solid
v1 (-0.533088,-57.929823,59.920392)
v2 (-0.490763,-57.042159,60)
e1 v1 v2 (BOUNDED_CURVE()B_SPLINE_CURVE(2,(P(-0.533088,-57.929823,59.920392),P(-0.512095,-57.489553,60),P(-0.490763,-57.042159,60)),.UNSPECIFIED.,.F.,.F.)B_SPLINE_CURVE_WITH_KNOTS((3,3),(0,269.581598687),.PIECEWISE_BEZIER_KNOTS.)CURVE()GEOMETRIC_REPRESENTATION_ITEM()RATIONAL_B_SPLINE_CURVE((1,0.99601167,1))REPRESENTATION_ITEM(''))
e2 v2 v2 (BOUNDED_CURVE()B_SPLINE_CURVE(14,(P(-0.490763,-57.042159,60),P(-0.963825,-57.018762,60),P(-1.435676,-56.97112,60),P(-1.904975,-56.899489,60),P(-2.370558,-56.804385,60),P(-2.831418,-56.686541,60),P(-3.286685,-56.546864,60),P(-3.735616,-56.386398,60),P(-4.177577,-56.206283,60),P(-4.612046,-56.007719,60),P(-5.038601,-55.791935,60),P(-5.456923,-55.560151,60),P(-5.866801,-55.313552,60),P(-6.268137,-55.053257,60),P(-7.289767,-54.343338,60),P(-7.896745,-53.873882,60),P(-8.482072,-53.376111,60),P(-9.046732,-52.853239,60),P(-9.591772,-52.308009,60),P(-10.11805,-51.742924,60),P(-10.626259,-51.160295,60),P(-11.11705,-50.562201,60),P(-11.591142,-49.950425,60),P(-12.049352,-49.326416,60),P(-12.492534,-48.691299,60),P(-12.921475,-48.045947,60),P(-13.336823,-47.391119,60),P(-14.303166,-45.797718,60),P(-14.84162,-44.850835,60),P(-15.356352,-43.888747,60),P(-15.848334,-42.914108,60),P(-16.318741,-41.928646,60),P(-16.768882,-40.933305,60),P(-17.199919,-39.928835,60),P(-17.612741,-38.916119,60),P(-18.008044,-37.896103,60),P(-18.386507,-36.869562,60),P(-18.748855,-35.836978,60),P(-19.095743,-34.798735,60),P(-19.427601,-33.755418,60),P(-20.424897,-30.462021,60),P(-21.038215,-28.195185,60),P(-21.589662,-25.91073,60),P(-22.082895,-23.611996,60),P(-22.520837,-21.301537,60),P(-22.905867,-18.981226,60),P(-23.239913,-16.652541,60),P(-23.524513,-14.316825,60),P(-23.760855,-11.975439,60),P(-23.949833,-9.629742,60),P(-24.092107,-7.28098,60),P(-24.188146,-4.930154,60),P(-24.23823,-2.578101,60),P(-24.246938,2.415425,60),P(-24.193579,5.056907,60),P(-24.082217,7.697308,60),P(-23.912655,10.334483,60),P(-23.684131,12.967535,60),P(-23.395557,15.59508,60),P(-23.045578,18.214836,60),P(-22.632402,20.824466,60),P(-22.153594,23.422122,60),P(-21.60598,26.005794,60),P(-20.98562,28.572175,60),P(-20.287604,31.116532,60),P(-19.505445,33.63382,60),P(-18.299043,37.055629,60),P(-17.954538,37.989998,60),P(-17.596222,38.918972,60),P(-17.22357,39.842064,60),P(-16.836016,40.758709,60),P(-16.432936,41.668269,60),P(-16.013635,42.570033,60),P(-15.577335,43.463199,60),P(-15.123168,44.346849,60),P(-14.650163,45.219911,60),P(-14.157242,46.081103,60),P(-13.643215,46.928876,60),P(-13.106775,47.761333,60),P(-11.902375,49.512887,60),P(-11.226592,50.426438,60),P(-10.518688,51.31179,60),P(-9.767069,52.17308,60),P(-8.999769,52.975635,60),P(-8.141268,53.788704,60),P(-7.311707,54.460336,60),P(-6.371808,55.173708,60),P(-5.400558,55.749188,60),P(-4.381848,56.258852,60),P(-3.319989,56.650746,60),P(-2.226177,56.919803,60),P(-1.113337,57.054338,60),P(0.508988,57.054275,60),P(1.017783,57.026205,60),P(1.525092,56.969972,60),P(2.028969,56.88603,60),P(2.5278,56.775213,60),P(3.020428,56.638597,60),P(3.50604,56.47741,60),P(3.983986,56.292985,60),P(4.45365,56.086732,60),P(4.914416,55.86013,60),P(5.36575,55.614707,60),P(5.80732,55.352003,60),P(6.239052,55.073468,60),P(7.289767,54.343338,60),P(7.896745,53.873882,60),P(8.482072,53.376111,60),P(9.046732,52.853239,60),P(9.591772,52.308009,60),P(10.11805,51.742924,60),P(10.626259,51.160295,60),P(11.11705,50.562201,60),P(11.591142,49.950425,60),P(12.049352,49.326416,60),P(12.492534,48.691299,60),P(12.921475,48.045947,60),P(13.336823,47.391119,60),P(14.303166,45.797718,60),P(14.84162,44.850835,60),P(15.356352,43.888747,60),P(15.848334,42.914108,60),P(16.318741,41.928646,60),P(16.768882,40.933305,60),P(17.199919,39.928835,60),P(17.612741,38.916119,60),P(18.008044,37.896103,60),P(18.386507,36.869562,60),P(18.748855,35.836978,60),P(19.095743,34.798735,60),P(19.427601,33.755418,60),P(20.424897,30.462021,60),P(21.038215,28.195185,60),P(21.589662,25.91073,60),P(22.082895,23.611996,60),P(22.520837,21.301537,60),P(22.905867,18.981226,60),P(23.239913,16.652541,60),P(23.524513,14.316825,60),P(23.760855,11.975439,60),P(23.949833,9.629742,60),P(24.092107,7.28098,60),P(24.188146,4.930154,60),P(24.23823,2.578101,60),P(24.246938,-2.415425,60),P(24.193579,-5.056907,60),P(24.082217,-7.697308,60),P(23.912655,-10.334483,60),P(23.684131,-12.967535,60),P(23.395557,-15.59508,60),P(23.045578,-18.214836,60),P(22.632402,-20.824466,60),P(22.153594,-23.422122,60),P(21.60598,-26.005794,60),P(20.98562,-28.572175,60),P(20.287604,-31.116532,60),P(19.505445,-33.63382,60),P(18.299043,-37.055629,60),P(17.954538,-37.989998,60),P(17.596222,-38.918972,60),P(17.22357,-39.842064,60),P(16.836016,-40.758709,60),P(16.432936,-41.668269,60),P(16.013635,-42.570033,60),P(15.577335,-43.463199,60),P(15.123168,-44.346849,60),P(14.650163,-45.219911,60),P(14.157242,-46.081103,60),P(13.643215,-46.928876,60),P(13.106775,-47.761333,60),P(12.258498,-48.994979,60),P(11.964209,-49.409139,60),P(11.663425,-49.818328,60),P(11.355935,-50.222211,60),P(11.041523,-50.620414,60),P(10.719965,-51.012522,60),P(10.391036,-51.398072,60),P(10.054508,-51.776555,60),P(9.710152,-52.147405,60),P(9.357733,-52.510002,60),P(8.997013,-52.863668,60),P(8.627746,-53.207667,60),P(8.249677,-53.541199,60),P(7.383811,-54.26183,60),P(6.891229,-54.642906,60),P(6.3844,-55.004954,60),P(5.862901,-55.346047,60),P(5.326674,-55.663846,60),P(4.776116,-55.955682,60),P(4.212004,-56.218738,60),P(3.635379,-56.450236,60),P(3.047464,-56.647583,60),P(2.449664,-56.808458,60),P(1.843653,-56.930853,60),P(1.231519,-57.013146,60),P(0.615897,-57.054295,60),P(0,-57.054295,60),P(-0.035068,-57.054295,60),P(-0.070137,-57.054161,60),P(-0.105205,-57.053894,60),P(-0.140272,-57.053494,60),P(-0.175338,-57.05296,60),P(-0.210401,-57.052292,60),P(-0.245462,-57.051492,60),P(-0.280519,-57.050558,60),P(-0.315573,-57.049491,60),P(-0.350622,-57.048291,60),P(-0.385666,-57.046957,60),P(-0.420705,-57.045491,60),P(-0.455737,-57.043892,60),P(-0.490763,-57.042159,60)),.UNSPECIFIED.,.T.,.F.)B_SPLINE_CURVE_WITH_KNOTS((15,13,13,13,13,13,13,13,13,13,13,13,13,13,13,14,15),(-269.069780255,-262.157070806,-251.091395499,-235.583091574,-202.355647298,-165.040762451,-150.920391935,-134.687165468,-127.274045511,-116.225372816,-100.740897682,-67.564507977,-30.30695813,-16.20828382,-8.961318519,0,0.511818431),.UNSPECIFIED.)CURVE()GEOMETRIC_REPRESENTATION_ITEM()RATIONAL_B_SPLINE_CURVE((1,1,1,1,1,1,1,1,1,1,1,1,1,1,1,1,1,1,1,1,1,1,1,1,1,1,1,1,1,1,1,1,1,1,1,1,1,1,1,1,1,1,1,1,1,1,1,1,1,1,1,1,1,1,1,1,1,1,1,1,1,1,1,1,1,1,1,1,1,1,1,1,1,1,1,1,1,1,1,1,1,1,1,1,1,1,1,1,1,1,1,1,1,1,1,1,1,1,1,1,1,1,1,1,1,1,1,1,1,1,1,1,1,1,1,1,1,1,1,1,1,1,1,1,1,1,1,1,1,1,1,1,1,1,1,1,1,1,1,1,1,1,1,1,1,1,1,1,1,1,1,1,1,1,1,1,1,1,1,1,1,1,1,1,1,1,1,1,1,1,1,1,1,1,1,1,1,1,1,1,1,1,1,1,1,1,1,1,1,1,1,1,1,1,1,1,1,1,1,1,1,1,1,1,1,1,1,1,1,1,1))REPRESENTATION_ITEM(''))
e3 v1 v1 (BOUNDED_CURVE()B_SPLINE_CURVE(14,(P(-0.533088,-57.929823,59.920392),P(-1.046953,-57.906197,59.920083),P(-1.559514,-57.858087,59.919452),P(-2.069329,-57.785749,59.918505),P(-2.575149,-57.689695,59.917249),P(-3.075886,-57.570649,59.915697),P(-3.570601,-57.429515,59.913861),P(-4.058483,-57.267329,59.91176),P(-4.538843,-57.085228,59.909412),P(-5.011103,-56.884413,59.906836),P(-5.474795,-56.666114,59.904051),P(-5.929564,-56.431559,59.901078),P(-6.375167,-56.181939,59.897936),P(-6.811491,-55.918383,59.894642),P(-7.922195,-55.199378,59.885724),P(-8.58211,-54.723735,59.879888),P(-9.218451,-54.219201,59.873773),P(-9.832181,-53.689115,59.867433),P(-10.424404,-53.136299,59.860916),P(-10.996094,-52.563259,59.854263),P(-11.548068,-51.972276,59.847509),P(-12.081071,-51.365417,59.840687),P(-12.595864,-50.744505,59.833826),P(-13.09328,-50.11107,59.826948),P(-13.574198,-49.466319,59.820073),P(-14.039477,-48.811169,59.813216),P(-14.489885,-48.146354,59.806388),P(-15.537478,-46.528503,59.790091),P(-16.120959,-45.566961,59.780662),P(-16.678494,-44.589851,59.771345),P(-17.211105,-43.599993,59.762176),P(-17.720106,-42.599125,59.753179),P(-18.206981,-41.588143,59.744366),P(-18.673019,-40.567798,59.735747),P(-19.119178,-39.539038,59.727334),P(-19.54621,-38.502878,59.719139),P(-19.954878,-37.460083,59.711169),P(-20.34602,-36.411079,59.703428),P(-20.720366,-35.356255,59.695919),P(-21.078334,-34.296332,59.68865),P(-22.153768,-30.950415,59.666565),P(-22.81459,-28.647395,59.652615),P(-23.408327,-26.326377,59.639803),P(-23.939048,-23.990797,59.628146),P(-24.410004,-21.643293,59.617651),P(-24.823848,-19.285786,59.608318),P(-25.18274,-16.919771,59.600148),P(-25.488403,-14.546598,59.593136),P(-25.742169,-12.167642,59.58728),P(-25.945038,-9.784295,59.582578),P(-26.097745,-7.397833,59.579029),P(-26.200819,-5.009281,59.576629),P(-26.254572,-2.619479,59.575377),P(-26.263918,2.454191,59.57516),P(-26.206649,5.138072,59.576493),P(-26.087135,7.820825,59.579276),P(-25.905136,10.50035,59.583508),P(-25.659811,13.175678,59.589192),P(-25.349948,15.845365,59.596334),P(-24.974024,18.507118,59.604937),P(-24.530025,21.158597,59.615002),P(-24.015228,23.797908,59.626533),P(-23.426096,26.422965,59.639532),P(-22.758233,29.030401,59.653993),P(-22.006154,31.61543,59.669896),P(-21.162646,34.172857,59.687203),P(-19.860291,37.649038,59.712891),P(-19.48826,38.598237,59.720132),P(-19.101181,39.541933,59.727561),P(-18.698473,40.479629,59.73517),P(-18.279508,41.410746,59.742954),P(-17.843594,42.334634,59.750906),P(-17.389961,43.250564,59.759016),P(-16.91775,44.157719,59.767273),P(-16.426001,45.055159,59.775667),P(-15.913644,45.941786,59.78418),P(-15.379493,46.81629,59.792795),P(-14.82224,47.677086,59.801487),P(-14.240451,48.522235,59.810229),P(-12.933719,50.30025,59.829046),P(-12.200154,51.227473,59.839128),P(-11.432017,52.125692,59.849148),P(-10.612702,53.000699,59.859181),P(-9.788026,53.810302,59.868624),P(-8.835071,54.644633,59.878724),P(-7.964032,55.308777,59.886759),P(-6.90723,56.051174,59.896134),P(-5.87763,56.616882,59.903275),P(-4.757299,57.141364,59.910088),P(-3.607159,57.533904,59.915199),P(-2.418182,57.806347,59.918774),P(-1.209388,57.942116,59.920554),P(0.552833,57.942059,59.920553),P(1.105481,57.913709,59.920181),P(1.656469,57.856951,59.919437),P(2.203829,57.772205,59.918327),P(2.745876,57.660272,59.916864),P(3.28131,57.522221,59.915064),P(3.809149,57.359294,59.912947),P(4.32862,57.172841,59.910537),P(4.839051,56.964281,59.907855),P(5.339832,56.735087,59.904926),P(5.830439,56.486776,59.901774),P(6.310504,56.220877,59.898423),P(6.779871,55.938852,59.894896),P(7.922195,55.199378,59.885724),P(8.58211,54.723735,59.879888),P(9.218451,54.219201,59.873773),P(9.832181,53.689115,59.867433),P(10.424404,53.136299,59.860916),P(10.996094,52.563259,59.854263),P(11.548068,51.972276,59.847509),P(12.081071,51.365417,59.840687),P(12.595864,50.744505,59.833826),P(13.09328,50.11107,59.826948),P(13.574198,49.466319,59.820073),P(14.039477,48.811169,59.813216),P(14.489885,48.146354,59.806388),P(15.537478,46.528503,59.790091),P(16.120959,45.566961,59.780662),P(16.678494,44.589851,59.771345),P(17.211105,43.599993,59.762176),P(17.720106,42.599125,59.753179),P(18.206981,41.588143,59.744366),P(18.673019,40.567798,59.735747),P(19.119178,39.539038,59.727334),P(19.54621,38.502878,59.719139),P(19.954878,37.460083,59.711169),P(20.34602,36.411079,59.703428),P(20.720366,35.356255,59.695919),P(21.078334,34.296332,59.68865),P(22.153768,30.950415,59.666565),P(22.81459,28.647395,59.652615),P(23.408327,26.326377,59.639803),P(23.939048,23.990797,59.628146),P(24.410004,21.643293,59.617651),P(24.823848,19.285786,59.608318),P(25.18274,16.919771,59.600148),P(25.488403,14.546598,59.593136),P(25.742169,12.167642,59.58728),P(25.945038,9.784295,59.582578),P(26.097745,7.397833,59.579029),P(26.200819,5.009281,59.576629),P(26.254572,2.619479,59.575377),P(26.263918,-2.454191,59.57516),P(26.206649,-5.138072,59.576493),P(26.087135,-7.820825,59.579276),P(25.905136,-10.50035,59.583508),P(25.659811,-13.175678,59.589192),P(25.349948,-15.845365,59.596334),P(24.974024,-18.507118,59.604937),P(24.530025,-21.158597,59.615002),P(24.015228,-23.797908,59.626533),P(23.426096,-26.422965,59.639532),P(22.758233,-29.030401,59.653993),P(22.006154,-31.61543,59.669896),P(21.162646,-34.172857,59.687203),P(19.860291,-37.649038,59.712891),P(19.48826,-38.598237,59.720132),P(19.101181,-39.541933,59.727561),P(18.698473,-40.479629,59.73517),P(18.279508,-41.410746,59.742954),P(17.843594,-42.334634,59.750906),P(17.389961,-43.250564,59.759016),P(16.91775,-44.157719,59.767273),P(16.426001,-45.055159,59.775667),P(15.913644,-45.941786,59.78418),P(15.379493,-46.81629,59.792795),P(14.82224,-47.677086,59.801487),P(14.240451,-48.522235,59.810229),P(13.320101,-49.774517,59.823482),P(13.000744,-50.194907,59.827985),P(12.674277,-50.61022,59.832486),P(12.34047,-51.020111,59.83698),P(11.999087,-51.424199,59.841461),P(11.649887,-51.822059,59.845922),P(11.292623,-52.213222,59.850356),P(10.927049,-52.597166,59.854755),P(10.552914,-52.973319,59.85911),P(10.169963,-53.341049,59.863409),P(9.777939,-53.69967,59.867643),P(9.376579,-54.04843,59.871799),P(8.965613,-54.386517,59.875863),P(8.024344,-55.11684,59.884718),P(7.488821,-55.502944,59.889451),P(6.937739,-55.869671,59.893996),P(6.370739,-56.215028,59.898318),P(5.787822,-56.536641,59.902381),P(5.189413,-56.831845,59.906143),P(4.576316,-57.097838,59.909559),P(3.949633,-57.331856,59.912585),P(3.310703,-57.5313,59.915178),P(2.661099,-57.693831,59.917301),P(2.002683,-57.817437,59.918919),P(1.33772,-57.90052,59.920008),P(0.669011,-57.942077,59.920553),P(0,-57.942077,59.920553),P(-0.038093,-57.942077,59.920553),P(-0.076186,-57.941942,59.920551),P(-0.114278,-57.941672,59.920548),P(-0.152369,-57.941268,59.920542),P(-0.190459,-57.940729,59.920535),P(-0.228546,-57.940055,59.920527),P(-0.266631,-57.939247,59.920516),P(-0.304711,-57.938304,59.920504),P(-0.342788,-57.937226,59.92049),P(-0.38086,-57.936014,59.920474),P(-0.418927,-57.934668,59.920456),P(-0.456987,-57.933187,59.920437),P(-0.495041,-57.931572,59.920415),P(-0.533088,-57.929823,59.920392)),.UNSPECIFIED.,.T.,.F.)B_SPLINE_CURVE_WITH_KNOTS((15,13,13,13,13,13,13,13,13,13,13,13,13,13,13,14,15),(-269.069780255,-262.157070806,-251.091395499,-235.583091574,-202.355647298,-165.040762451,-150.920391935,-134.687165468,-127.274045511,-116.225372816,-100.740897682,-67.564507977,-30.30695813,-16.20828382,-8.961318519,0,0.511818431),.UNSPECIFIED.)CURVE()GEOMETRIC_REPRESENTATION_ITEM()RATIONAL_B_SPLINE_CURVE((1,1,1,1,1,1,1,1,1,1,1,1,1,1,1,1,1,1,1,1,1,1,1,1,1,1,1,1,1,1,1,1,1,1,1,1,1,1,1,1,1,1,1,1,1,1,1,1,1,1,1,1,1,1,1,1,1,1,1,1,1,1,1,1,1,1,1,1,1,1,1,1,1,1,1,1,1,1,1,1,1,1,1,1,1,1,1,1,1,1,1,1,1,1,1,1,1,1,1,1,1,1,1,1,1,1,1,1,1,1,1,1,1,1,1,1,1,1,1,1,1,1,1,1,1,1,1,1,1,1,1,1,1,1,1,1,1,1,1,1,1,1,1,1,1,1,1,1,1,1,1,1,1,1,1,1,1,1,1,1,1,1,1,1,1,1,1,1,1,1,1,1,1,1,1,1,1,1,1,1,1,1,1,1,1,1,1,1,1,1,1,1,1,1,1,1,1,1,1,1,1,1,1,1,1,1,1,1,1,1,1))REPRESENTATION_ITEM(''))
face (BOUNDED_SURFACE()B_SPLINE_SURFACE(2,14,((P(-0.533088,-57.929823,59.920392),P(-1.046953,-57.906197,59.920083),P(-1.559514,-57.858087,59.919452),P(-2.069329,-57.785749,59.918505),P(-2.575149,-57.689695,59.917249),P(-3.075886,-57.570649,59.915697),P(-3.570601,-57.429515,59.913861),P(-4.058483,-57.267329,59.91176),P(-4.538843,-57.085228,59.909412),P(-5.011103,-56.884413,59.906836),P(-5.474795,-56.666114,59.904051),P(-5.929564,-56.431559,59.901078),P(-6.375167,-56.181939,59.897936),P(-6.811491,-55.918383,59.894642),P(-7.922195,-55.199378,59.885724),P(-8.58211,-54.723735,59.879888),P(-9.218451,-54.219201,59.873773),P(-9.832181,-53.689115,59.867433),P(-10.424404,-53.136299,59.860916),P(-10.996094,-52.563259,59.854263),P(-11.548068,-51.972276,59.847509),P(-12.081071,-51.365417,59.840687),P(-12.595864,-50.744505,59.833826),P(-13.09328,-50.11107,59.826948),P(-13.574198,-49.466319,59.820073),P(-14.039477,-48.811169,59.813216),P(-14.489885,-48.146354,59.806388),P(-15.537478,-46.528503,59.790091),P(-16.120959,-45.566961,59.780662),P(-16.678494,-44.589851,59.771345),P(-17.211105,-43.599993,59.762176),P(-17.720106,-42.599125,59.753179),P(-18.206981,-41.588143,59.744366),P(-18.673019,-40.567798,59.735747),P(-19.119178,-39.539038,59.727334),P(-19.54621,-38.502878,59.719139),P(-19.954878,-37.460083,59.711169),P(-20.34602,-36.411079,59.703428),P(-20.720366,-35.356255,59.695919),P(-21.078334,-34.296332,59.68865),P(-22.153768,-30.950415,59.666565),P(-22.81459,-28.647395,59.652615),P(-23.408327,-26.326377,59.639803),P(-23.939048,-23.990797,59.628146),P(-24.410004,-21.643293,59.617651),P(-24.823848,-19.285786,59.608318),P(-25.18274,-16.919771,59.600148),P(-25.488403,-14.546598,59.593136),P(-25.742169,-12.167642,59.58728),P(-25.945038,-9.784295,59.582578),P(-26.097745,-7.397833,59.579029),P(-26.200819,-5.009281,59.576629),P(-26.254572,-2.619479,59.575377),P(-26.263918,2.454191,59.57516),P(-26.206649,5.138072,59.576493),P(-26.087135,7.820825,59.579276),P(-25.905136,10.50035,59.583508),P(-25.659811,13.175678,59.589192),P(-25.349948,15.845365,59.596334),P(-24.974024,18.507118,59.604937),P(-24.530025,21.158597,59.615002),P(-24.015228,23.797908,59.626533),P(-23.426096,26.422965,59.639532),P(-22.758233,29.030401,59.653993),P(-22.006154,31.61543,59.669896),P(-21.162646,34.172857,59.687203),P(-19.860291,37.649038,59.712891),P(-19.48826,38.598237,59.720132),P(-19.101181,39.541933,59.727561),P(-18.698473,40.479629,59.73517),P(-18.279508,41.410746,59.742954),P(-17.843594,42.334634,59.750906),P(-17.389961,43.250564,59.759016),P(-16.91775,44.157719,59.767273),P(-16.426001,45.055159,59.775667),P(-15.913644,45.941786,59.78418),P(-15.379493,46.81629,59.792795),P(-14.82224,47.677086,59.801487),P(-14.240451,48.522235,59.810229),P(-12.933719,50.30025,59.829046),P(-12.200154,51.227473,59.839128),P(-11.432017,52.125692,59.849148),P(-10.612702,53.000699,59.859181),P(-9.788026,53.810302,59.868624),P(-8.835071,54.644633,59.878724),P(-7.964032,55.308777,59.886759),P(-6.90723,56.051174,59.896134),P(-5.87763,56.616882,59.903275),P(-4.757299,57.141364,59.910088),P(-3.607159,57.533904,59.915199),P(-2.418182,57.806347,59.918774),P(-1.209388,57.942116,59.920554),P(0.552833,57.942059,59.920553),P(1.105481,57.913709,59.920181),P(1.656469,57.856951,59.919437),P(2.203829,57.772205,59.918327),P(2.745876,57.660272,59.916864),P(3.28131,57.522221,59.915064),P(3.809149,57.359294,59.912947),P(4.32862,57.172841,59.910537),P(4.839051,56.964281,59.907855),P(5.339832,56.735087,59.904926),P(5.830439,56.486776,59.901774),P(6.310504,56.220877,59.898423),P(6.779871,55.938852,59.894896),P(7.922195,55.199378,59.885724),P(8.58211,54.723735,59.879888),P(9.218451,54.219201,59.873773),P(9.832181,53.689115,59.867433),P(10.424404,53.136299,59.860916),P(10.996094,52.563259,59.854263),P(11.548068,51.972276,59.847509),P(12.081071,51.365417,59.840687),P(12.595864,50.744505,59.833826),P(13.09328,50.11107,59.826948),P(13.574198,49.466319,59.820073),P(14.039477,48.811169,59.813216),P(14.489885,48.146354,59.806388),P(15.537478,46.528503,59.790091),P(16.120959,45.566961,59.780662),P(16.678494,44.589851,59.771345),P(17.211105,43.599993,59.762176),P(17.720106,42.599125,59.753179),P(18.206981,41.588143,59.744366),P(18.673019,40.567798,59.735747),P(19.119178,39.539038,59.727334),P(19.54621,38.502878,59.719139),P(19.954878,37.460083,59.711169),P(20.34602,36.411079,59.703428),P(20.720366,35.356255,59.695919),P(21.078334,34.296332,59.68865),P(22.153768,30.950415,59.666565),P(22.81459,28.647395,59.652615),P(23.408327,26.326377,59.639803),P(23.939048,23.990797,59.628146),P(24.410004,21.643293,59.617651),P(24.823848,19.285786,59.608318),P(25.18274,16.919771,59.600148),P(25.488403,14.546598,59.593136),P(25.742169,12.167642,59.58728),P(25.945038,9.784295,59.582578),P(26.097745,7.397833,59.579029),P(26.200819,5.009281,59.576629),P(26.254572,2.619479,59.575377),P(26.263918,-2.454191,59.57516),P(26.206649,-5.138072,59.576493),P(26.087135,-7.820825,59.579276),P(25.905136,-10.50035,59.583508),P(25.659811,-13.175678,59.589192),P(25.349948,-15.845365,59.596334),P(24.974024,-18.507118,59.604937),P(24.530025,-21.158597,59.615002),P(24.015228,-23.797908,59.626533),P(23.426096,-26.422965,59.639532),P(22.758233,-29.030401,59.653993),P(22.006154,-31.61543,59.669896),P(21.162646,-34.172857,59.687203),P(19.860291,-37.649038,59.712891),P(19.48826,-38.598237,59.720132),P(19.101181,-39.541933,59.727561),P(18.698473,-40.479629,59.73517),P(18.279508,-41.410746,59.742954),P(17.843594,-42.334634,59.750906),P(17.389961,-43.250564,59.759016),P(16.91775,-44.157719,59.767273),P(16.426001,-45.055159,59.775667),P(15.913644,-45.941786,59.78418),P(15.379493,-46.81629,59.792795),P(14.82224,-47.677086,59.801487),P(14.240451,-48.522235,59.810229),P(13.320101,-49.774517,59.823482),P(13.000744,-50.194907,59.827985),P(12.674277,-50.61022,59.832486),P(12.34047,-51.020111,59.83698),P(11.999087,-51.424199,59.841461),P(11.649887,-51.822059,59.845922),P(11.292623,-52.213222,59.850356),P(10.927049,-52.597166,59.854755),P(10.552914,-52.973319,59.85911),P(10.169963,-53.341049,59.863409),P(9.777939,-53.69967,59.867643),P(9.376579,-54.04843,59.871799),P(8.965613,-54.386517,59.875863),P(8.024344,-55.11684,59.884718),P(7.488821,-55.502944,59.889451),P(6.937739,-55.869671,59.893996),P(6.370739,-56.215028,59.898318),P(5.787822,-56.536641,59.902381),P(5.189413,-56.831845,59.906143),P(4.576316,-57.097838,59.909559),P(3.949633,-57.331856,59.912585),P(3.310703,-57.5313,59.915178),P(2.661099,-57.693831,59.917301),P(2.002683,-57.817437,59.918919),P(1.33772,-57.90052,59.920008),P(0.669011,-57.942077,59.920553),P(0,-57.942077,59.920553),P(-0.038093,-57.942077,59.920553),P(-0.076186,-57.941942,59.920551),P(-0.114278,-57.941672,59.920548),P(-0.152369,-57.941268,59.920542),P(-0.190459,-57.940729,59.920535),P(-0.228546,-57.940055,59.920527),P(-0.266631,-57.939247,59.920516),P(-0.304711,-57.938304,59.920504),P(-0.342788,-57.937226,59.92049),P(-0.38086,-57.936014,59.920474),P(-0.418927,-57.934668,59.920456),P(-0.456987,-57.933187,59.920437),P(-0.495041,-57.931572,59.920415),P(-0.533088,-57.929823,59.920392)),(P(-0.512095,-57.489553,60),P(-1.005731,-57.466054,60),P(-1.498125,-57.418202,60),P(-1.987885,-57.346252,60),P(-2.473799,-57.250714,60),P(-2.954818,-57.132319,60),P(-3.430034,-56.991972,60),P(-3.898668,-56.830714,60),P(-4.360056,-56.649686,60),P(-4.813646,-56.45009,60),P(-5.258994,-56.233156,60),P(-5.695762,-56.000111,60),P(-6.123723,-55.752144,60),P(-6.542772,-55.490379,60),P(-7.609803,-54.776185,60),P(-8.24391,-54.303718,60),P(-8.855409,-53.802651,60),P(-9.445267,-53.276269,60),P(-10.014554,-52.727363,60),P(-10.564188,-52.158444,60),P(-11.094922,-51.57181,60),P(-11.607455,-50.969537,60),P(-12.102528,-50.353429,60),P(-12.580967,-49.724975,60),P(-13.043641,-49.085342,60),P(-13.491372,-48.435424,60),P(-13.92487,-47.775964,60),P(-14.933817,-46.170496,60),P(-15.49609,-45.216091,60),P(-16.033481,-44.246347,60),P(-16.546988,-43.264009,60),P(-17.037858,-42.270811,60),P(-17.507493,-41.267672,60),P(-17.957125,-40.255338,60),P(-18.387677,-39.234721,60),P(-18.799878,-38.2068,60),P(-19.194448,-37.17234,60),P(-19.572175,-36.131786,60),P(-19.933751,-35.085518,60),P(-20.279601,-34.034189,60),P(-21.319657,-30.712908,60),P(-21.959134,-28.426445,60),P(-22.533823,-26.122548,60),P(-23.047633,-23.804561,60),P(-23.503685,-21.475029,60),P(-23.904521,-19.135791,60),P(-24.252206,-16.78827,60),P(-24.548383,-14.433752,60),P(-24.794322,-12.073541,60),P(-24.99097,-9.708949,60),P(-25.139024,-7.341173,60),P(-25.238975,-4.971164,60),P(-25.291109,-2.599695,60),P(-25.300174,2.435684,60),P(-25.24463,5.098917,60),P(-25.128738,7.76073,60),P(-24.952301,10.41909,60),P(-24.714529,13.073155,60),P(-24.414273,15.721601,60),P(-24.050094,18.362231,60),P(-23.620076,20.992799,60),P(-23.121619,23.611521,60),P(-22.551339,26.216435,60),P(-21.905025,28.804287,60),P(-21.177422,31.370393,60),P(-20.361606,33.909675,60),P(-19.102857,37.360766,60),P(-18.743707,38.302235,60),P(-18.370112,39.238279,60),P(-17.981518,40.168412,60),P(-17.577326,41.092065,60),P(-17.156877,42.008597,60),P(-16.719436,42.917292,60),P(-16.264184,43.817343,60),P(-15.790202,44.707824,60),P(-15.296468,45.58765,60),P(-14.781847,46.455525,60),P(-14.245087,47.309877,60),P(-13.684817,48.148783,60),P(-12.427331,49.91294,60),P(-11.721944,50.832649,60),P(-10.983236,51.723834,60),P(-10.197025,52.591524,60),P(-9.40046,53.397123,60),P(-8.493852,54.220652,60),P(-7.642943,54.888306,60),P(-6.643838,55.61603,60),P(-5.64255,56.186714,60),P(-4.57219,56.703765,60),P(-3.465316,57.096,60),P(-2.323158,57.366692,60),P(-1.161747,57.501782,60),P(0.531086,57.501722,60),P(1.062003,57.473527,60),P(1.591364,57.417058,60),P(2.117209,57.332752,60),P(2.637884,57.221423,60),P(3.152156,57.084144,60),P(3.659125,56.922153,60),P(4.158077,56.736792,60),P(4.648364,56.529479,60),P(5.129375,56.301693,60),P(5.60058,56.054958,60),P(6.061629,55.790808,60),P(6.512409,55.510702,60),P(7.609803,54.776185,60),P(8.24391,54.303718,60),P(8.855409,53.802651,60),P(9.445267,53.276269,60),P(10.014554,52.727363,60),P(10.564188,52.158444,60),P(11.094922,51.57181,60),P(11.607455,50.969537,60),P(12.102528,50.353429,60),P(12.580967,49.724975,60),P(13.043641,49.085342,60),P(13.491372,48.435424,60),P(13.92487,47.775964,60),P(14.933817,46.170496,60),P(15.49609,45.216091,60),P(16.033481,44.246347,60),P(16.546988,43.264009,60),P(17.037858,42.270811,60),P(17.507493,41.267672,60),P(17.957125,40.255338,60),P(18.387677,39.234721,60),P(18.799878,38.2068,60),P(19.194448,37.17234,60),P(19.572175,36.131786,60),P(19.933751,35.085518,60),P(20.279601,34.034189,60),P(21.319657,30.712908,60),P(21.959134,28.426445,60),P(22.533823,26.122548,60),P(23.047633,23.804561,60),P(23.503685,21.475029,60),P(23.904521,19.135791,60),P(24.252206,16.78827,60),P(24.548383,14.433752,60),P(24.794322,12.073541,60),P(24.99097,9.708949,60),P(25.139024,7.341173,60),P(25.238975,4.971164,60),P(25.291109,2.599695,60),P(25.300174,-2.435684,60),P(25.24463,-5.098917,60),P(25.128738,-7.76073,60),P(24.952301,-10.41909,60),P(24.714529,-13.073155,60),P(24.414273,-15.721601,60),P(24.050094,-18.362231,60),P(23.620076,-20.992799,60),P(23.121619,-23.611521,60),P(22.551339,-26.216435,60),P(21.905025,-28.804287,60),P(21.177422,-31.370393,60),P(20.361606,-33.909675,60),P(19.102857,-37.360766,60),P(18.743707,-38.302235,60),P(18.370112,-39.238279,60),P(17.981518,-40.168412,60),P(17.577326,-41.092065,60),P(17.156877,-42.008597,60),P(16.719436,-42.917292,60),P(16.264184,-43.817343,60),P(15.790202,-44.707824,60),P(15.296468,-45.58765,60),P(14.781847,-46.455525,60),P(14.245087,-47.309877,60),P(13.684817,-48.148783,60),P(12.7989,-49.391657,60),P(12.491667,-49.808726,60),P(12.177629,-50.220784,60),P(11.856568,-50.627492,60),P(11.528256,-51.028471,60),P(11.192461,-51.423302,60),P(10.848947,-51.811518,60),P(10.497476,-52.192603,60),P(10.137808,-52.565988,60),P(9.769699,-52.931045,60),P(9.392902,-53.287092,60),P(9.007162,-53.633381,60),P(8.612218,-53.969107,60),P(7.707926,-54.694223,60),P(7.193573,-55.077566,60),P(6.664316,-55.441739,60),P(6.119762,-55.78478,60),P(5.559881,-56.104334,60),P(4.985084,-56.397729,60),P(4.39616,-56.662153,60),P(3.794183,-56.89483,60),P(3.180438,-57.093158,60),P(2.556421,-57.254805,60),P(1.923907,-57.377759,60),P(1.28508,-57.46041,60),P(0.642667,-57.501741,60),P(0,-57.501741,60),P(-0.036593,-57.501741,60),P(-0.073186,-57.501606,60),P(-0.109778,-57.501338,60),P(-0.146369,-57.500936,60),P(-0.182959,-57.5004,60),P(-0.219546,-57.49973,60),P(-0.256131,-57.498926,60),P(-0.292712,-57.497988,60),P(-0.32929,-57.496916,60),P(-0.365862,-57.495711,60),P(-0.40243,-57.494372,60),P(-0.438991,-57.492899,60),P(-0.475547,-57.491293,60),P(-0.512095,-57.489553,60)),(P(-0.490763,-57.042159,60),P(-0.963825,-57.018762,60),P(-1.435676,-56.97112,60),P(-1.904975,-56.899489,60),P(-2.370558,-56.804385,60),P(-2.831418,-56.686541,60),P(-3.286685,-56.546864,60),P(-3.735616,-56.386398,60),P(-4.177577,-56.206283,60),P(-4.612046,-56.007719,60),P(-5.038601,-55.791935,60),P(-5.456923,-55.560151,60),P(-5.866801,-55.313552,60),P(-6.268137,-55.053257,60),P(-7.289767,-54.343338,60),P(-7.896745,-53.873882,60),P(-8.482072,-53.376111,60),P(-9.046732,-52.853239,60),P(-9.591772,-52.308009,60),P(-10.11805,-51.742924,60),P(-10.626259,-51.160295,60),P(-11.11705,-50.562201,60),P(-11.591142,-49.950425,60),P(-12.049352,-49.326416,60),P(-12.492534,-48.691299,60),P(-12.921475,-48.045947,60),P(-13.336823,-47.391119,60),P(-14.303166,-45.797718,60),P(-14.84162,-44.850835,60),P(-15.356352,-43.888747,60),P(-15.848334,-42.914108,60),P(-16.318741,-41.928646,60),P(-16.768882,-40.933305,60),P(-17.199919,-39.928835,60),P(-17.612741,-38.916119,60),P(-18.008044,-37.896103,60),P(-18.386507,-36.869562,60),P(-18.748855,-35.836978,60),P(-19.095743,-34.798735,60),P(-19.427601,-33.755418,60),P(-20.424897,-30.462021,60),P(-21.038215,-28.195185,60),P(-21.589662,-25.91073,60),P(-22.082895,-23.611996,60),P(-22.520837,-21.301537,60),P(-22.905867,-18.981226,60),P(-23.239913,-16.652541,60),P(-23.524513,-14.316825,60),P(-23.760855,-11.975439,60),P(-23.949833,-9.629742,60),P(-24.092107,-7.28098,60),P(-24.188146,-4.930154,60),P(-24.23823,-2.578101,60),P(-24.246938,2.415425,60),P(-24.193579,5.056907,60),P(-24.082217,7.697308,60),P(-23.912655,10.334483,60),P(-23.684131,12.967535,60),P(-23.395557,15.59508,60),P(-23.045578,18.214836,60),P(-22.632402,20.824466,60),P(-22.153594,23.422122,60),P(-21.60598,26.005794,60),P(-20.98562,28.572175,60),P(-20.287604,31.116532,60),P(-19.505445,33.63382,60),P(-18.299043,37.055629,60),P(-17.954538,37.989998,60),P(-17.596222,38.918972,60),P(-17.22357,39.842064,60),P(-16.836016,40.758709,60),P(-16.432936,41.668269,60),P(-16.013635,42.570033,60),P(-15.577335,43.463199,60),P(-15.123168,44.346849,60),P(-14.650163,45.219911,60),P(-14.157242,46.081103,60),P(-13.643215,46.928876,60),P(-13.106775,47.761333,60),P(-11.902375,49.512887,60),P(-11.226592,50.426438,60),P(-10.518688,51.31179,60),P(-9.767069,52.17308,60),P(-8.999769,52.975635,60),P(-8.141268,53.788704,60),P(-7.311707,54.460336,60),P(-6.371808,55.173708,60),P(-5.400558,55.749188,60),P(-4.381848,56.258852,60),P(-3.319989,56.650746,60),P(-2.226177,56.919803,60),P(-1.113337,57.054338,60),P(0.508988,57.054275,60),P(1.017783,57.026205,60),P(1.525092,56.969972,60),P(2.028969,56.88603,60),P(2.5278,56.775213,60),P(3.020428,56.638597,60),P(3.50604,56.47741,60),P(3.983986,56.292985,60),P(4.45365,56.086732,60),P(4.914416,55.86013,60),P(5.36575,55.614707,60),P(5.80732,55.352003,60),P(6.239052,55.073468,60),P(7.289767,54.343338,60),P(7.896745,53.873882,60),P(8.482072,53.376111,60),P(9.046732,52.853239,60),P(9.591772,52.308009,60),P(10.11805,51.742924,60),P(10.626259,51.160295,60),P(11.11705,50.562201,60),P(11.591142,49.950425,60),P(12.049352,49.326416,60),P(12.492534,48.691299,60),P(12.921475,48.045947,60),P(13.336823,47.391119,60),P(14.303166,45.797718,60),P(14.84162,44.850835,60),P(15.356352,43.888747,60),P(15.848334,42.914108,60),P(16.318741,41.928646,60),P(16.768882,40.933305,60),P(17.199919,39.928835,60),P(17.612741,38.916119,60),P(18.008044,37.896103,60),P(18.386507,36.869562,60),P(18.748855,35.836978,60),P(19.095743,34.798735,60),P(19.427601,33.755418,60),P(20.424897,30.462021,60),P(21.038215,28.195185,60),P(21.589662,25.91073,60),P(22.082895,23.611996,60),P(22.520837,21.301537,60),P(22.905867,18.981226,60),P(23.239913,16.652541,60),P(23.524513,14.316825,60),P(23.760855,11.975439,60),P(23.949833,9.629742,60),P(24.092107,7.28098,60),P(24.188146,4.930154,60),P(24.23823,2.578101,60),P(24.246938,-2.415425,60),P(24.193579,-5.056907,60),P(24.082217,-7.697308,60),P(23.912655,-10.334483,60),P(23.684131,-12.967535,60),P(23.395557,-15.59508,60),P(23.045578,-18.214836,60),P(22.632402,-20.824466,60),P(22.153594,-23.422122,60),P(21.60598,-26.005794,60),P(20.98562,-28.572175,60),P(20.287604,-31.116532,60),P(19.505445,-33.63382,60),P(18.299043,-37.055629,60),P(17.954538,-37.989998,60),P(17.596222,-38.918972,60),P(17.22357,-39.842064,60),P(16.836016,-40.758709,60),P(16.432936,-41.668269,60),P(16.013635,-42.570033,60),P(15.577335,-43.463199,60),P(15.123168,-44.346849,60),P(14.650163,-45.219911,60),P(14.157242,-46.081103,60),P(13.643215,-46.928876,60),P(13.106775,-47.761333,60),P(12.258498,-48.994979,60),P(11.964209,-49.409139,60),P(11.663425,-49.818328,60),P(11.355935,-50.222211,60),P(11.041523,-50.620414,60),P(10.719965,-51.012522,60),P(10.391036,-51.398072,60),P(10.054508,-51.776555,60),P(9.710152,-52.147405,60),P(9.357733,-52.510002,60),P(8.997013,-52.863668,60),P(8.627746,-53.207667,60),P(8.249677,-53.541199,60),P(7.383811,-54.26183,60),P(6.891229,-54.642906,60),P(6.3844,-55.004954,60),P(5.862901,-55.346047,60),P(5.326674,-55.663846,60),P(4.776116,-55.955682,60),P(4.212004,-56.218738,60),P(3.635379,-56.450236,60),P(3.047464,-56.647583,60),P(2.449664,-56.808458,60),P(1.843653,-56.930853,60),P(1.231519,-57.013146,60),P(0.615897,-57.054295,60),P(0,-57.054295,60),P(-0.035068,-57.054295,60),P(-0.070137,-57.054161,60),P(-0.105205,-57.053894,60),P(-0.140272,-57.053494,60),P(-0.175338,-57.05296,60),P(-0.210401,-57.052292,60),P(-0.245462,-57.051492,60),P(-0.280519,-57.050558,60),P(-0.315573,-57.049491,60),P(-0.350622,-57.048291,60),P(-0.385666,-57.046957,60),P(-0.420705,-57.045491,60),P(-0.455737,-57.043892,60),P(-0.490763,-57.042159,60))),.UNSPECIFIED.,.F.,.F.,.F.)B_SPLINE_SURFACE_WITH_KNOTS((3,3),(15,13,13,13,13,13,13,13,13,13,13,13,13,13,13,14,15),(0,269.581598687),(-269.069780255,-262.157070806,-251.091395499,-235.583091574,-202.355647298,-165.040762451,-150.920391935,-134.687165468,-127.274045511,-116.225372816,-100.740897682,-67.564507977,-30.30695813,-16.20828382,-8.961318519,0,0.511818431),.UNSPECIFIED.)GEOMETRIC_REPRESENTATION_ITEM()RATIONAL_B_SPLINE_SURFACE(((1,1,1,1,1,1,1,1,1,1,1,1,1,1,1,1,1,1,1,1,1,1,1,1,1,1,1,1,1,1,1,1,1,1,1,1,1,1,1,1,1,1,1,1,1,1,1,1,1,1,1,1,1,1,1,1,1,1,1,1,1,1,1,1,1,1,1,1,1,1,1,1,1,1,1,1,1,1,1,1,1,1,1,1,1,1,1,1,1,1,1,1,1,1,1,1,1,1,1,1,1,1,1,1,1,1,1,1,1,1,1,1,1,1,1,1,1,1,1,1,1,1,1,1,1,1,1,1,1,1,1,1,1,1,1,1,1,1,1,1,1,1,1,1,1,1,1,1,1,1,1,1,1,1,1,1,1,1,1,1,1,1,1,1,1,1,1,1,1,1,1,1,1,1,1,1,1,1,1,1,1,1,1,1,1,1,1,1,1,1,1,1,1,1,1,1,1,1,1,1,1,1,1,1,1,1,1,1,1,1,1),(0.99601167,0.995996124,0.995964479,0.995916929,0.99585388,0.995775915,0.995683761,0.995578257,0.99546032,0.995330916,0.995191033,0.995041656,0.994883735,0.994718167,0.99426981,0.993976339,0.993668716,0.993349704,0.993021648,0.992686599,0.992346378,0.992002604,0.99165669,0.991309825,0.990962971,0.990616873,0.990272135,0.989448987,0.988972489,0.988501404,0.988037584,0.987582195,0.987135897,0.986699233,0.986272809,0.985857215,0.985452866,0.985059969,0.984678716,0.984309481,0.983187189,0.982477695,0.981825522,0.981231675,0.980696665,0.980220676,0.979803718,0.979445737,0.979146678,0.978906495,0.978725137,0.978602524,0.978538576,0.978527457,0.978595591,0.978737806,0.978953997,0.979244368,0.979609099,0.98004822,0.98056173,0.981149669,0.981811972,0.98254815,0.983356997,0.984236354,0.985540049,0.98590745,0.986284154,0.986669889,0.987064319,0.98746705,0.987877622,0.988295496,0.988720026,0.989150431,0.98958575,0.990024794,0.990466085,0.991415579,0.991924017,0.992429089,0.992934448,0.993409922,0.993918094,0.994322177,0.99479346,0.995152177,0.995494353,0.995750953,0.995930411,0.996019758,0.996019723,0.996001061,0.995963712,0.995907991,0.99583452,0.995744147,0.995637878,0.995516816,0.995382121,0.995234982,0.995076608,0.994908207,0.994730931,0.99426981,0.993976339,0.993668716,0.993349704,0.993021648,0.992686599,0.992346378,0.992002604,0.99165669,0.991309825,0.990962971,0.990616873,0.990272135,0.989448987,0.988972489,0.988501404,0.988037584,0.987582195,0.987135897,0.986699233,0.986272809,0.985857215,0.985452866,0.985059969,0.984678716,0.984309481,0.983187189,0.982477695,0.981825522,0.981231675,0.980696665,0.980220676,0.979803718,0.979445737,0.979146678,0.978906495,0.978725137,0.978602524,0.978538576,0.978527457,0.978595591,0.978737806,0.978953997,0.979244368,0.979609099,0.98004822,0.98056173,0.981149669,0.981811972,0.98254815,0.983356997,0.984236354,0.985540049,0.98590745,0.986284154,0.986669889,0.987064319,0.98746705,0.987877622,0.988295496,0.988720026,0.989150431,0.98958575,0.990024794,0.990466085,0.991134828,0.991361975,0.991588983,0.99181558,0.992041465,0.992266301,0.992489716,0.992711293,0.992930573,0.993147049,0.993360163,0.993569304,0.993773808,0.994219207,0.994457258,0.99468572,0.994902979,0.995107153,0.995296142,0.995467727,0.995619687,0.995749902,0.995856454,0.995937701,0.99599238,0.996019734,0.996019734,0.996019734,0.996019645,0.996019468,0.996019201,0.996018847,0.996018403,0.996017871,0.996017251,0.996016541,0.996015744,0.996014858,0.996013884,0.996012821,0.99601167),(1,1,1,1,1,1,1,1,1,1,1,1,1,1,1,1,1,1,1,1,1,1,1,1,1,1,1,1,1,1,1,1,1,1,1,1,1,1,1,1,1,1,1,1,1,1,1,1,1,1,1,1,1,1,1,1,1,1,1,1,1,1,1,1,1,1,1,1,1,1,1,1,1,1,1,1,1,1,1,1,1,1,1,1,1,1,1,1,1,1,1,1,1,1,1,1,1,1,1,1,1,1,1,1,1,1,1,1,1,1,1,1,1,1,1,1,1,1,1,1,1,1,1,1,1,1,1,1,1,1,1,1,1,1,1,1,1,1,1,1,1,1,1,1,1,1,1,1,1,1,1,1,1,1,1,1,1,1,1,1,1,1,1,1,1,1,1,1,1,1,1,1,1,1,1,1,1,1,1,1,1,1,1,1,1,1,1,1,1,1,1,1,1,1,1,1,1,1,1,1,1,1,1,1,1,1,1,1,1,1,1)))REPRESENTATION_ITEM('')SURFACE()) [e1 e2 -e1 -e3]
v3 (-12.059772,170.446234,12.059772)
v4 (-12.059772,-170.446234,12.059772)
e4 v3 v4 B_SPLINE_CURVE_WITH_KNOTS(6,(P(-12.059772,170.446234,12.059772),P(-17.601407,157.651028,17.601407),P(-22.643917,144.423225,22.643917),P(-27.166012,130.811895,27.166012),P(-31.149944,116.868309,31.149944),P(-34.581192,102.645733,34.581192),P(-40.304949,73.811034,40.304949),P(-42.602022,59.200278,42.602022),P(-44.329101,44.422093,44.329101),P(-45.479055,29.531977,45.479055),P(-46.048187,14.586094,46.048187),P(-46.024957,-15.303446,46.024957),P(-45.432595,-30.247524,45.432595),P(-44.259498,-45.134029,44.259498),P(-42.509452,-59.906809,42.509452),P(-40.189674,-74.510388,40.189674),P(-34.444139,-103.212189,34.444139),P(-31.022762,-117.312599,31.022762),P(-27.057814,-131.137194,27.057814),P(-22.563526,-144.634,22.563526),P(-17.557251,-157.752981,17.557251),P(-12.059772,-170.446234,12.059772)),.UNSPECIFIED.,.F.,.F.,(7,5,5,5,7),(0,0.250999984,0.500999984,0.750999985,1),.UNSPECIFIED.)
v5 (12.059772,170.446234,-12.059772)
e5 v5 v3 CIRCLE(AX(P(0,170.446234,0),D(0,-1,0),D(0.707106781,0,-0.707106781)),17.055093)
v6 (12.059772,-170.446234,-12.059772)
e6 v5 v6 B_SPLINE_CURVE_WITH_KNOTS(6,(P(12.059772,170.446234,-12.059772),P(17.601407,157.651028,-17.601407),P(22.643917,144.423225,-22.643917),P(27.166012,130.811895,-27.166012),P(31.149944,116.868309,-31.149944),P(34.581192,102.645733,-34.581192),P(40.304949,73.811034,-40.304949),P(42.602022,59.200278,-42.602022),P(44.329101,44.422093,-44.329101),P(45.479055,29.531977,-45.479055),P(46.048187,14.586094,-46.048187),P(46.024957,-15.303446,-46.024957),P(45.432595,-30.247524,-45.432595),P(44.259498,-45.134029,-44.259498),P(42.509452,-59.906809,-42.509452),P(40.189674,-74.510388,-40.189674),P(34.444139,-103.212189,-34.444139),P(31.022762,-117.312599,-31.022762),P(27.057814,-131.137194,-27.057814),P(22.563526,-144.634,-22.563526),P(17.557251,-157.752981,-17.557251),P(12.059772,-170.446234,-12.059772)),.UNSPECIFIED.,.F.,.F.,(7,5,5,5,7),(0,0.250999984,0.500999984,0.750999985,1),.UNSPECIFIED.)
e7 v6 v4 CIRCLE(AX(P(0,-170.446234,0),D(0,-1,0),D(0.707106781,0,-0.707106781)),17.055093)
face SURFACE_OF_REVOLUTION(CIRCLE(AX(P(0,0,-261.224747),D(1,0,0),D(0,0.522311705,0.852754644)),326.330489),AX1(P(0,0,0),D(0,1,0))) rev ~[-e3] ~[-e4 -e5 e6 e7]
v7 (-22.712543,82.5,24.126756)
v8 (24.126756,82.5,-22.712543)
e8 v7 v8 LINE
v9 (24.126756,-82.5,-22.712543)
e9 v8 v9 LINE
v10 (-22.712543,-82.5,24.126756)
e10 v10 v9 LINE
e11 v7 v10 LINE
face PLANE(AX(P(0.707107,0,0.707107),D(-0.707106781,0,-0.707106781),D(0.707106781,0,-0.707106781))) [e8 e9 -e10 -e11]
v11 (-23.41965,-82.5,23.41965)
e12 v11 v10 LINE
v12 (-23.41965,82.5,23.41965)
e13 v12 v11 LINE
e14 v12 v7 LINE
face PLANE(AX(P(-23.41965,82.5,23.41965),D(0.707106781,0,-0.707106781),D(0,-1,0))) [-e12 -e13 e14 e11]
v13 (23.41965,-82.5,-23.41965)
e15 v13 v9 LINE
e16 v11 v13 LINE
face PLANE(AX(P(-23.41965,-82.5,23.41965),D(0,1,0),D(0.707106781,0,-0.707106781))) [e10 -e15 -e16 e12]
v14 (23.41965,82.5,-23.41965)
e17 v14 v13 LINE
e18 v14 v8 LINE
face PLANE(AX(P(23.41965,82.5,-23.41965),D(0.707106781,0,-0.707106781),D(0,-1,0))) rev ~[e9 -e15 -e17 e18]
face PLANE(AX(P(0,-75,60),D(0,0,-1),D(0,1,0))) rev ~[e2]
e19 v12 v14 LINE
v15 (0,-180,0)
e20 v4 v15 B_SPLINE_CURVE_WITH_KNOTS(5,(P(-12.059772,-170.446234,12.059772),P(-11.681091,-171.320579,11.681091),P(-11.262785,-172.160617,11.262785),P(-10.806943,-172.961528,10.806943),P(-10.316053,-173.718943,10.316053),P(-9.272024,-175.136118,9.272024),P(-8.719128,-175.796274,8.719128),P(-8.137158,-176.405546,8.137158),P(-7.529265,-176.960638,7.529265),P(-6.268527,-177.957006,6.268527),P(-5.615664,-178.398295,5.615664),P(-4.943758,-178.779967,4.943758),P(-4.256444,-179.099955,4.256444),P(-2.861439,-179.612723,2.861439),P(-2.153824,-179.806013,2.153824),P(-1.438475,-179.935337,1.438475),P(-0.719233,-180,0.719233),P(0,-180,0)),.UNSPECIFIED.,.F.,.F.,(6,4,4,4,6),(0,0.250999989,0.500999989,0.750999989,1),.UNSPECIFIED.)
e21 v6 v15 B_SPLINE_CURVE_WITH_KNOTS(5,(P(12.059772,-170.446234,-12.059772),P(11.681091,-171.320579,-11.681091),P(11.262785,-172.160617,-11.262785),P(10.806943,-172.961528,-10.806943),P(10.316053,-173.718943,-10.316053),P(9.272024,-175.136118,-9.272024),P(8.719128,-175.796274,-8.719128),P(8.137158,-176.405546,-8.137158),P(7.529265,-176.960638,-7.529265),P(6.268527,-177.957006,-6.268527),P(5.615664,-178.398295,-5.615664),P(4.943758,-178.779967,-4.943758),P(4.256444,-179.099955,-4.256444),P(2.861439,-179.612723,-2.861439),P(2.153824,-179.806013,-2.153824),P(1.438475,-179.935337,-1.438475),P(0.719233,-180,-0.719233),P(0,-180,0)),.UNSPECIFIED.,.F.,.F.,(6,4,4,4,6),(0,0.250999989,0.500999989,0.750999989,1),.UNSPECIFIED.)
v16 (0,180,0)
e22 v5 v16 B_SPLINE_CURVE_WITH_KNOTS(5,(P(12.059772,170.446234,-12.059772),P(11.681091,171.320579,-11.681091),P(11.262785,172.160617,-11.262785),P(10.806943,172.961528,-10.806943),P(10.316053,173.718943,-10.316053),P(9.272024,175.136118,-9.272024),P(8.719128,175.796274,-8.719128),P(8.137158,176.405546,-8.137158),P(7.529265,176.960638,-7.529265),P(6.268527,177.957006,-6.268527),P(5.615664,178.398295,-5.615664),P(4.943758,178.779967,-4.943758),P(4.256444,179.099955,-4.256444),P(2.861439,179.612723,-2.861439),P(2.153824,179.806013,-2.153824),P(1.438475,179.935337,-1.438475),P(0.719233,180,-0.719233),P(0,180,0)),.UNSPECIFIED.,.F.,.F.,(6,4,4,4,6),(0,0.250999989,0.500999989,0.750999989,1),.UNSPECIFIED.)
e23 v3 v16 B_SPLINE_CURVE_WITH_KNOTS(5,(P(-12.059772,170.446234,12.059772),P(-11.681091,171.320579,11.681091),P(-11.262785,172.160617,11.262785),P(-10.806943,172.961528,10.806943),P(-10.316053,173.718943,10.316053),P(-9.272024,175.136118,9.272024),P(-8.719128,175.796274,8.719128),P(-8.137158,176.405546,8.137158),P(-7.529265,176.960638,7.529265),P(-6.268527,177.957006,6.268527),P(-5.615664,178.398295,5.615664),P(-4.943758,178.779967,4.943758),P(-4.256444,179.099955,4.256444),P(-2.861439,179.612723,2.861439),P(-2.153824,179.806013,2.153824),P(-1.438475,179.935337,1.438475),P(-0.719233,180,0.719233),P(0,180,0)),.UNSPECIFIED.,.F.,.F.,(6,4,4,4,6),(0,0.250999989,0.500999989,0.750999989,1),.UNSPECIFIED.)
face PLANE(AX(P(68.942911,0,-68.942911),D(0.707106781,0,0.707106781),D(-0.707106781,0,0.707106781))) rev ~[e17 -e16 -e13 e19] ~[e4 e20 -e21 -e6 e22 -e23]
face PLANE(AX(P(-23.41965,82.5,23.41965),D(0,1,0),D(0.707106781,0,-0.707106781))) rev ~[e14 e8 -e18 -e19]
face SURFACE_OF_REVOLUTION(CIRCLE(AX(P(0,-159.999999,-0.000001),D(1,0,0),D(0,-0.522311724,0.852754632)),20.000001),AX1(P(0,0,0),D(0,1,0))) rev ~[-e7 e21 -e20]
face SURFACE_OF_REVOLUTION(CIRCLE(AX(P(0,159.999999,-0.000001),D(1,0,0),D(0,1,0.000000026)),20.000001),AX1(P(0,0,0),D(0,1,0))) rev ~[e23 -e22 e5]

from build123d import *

# Parameters (mm, degrees)
F2_W     = 150
F2_H     = 10
F3_DEPTH = 50
F5_DEPTH = 203
F6_W     = 66.240772
F6_H     = 165
F7_DEPTH = 1
F8_R     = 5


with BuildPart() as f1:
    # F0 (on Right) → F1 (revolve)
    with BuildSketch(Plane.YZ):
        with BuildLine():
            ThreePointArc((-170.446234, 17.055093), (-177.448849, 9.774337), (-180, 0))
            Line((-180, 0), (180, 0))
            ThreePointArc((180, 0), (177.448849, 9.774337), (170.446234, 17.055093))
            ThreePointArc((170.446234, 17.055093), (0, 65.105742), (-170.446234, 17.055093))
        make_face()
    revolve(axis=Axis((0, 0, 0), (0, 1, 0)))

    # F2 (on Right) → F3 (cut, symmetric)
    with BuildSketch(Plane.YZ):
        with Locations((0, -65)):
            Rectangle(F2_W, F2_H)
        Polygon((75, 70), (-75, 70), (-75, 60), (0, 60), (75, 60), align=None)
    extrude(amount=F3_DEPTH, both=True, mode=Mode.SUBTRACT)

    # F4 (on Front) → F5 (cut, symmetric)
    with BuildSketch(Plane.XZ):
        Polygon((68.942911, -68.942911), (-68.942911, 68.942911), (-68.942911, -68.942911), align=None)
    extrude(amount=F5_DEPTH, both=True, mode=Mode.SUBTRACT)

    # F6 (on face) → F7 (cut)
    with BuildSketch(Plane(origin=(0, 0, 0), x_dir=(0.707107, 0, -0.707107), z_dir=(-0.707107, 0, -0.707107))):
        Rectangle(F6_W, F6_H)
    extrude(amount=-F7_DEPTH, mode=Mode.SUBTRACT)

    # F8
    f8_edges = [f1.edges().sort_by_distance(p)[0] for p in [
        (0, -57.5, 60),
    ]]
    fillet(f8_edges, radius=F8_R)


solid = f1.part
